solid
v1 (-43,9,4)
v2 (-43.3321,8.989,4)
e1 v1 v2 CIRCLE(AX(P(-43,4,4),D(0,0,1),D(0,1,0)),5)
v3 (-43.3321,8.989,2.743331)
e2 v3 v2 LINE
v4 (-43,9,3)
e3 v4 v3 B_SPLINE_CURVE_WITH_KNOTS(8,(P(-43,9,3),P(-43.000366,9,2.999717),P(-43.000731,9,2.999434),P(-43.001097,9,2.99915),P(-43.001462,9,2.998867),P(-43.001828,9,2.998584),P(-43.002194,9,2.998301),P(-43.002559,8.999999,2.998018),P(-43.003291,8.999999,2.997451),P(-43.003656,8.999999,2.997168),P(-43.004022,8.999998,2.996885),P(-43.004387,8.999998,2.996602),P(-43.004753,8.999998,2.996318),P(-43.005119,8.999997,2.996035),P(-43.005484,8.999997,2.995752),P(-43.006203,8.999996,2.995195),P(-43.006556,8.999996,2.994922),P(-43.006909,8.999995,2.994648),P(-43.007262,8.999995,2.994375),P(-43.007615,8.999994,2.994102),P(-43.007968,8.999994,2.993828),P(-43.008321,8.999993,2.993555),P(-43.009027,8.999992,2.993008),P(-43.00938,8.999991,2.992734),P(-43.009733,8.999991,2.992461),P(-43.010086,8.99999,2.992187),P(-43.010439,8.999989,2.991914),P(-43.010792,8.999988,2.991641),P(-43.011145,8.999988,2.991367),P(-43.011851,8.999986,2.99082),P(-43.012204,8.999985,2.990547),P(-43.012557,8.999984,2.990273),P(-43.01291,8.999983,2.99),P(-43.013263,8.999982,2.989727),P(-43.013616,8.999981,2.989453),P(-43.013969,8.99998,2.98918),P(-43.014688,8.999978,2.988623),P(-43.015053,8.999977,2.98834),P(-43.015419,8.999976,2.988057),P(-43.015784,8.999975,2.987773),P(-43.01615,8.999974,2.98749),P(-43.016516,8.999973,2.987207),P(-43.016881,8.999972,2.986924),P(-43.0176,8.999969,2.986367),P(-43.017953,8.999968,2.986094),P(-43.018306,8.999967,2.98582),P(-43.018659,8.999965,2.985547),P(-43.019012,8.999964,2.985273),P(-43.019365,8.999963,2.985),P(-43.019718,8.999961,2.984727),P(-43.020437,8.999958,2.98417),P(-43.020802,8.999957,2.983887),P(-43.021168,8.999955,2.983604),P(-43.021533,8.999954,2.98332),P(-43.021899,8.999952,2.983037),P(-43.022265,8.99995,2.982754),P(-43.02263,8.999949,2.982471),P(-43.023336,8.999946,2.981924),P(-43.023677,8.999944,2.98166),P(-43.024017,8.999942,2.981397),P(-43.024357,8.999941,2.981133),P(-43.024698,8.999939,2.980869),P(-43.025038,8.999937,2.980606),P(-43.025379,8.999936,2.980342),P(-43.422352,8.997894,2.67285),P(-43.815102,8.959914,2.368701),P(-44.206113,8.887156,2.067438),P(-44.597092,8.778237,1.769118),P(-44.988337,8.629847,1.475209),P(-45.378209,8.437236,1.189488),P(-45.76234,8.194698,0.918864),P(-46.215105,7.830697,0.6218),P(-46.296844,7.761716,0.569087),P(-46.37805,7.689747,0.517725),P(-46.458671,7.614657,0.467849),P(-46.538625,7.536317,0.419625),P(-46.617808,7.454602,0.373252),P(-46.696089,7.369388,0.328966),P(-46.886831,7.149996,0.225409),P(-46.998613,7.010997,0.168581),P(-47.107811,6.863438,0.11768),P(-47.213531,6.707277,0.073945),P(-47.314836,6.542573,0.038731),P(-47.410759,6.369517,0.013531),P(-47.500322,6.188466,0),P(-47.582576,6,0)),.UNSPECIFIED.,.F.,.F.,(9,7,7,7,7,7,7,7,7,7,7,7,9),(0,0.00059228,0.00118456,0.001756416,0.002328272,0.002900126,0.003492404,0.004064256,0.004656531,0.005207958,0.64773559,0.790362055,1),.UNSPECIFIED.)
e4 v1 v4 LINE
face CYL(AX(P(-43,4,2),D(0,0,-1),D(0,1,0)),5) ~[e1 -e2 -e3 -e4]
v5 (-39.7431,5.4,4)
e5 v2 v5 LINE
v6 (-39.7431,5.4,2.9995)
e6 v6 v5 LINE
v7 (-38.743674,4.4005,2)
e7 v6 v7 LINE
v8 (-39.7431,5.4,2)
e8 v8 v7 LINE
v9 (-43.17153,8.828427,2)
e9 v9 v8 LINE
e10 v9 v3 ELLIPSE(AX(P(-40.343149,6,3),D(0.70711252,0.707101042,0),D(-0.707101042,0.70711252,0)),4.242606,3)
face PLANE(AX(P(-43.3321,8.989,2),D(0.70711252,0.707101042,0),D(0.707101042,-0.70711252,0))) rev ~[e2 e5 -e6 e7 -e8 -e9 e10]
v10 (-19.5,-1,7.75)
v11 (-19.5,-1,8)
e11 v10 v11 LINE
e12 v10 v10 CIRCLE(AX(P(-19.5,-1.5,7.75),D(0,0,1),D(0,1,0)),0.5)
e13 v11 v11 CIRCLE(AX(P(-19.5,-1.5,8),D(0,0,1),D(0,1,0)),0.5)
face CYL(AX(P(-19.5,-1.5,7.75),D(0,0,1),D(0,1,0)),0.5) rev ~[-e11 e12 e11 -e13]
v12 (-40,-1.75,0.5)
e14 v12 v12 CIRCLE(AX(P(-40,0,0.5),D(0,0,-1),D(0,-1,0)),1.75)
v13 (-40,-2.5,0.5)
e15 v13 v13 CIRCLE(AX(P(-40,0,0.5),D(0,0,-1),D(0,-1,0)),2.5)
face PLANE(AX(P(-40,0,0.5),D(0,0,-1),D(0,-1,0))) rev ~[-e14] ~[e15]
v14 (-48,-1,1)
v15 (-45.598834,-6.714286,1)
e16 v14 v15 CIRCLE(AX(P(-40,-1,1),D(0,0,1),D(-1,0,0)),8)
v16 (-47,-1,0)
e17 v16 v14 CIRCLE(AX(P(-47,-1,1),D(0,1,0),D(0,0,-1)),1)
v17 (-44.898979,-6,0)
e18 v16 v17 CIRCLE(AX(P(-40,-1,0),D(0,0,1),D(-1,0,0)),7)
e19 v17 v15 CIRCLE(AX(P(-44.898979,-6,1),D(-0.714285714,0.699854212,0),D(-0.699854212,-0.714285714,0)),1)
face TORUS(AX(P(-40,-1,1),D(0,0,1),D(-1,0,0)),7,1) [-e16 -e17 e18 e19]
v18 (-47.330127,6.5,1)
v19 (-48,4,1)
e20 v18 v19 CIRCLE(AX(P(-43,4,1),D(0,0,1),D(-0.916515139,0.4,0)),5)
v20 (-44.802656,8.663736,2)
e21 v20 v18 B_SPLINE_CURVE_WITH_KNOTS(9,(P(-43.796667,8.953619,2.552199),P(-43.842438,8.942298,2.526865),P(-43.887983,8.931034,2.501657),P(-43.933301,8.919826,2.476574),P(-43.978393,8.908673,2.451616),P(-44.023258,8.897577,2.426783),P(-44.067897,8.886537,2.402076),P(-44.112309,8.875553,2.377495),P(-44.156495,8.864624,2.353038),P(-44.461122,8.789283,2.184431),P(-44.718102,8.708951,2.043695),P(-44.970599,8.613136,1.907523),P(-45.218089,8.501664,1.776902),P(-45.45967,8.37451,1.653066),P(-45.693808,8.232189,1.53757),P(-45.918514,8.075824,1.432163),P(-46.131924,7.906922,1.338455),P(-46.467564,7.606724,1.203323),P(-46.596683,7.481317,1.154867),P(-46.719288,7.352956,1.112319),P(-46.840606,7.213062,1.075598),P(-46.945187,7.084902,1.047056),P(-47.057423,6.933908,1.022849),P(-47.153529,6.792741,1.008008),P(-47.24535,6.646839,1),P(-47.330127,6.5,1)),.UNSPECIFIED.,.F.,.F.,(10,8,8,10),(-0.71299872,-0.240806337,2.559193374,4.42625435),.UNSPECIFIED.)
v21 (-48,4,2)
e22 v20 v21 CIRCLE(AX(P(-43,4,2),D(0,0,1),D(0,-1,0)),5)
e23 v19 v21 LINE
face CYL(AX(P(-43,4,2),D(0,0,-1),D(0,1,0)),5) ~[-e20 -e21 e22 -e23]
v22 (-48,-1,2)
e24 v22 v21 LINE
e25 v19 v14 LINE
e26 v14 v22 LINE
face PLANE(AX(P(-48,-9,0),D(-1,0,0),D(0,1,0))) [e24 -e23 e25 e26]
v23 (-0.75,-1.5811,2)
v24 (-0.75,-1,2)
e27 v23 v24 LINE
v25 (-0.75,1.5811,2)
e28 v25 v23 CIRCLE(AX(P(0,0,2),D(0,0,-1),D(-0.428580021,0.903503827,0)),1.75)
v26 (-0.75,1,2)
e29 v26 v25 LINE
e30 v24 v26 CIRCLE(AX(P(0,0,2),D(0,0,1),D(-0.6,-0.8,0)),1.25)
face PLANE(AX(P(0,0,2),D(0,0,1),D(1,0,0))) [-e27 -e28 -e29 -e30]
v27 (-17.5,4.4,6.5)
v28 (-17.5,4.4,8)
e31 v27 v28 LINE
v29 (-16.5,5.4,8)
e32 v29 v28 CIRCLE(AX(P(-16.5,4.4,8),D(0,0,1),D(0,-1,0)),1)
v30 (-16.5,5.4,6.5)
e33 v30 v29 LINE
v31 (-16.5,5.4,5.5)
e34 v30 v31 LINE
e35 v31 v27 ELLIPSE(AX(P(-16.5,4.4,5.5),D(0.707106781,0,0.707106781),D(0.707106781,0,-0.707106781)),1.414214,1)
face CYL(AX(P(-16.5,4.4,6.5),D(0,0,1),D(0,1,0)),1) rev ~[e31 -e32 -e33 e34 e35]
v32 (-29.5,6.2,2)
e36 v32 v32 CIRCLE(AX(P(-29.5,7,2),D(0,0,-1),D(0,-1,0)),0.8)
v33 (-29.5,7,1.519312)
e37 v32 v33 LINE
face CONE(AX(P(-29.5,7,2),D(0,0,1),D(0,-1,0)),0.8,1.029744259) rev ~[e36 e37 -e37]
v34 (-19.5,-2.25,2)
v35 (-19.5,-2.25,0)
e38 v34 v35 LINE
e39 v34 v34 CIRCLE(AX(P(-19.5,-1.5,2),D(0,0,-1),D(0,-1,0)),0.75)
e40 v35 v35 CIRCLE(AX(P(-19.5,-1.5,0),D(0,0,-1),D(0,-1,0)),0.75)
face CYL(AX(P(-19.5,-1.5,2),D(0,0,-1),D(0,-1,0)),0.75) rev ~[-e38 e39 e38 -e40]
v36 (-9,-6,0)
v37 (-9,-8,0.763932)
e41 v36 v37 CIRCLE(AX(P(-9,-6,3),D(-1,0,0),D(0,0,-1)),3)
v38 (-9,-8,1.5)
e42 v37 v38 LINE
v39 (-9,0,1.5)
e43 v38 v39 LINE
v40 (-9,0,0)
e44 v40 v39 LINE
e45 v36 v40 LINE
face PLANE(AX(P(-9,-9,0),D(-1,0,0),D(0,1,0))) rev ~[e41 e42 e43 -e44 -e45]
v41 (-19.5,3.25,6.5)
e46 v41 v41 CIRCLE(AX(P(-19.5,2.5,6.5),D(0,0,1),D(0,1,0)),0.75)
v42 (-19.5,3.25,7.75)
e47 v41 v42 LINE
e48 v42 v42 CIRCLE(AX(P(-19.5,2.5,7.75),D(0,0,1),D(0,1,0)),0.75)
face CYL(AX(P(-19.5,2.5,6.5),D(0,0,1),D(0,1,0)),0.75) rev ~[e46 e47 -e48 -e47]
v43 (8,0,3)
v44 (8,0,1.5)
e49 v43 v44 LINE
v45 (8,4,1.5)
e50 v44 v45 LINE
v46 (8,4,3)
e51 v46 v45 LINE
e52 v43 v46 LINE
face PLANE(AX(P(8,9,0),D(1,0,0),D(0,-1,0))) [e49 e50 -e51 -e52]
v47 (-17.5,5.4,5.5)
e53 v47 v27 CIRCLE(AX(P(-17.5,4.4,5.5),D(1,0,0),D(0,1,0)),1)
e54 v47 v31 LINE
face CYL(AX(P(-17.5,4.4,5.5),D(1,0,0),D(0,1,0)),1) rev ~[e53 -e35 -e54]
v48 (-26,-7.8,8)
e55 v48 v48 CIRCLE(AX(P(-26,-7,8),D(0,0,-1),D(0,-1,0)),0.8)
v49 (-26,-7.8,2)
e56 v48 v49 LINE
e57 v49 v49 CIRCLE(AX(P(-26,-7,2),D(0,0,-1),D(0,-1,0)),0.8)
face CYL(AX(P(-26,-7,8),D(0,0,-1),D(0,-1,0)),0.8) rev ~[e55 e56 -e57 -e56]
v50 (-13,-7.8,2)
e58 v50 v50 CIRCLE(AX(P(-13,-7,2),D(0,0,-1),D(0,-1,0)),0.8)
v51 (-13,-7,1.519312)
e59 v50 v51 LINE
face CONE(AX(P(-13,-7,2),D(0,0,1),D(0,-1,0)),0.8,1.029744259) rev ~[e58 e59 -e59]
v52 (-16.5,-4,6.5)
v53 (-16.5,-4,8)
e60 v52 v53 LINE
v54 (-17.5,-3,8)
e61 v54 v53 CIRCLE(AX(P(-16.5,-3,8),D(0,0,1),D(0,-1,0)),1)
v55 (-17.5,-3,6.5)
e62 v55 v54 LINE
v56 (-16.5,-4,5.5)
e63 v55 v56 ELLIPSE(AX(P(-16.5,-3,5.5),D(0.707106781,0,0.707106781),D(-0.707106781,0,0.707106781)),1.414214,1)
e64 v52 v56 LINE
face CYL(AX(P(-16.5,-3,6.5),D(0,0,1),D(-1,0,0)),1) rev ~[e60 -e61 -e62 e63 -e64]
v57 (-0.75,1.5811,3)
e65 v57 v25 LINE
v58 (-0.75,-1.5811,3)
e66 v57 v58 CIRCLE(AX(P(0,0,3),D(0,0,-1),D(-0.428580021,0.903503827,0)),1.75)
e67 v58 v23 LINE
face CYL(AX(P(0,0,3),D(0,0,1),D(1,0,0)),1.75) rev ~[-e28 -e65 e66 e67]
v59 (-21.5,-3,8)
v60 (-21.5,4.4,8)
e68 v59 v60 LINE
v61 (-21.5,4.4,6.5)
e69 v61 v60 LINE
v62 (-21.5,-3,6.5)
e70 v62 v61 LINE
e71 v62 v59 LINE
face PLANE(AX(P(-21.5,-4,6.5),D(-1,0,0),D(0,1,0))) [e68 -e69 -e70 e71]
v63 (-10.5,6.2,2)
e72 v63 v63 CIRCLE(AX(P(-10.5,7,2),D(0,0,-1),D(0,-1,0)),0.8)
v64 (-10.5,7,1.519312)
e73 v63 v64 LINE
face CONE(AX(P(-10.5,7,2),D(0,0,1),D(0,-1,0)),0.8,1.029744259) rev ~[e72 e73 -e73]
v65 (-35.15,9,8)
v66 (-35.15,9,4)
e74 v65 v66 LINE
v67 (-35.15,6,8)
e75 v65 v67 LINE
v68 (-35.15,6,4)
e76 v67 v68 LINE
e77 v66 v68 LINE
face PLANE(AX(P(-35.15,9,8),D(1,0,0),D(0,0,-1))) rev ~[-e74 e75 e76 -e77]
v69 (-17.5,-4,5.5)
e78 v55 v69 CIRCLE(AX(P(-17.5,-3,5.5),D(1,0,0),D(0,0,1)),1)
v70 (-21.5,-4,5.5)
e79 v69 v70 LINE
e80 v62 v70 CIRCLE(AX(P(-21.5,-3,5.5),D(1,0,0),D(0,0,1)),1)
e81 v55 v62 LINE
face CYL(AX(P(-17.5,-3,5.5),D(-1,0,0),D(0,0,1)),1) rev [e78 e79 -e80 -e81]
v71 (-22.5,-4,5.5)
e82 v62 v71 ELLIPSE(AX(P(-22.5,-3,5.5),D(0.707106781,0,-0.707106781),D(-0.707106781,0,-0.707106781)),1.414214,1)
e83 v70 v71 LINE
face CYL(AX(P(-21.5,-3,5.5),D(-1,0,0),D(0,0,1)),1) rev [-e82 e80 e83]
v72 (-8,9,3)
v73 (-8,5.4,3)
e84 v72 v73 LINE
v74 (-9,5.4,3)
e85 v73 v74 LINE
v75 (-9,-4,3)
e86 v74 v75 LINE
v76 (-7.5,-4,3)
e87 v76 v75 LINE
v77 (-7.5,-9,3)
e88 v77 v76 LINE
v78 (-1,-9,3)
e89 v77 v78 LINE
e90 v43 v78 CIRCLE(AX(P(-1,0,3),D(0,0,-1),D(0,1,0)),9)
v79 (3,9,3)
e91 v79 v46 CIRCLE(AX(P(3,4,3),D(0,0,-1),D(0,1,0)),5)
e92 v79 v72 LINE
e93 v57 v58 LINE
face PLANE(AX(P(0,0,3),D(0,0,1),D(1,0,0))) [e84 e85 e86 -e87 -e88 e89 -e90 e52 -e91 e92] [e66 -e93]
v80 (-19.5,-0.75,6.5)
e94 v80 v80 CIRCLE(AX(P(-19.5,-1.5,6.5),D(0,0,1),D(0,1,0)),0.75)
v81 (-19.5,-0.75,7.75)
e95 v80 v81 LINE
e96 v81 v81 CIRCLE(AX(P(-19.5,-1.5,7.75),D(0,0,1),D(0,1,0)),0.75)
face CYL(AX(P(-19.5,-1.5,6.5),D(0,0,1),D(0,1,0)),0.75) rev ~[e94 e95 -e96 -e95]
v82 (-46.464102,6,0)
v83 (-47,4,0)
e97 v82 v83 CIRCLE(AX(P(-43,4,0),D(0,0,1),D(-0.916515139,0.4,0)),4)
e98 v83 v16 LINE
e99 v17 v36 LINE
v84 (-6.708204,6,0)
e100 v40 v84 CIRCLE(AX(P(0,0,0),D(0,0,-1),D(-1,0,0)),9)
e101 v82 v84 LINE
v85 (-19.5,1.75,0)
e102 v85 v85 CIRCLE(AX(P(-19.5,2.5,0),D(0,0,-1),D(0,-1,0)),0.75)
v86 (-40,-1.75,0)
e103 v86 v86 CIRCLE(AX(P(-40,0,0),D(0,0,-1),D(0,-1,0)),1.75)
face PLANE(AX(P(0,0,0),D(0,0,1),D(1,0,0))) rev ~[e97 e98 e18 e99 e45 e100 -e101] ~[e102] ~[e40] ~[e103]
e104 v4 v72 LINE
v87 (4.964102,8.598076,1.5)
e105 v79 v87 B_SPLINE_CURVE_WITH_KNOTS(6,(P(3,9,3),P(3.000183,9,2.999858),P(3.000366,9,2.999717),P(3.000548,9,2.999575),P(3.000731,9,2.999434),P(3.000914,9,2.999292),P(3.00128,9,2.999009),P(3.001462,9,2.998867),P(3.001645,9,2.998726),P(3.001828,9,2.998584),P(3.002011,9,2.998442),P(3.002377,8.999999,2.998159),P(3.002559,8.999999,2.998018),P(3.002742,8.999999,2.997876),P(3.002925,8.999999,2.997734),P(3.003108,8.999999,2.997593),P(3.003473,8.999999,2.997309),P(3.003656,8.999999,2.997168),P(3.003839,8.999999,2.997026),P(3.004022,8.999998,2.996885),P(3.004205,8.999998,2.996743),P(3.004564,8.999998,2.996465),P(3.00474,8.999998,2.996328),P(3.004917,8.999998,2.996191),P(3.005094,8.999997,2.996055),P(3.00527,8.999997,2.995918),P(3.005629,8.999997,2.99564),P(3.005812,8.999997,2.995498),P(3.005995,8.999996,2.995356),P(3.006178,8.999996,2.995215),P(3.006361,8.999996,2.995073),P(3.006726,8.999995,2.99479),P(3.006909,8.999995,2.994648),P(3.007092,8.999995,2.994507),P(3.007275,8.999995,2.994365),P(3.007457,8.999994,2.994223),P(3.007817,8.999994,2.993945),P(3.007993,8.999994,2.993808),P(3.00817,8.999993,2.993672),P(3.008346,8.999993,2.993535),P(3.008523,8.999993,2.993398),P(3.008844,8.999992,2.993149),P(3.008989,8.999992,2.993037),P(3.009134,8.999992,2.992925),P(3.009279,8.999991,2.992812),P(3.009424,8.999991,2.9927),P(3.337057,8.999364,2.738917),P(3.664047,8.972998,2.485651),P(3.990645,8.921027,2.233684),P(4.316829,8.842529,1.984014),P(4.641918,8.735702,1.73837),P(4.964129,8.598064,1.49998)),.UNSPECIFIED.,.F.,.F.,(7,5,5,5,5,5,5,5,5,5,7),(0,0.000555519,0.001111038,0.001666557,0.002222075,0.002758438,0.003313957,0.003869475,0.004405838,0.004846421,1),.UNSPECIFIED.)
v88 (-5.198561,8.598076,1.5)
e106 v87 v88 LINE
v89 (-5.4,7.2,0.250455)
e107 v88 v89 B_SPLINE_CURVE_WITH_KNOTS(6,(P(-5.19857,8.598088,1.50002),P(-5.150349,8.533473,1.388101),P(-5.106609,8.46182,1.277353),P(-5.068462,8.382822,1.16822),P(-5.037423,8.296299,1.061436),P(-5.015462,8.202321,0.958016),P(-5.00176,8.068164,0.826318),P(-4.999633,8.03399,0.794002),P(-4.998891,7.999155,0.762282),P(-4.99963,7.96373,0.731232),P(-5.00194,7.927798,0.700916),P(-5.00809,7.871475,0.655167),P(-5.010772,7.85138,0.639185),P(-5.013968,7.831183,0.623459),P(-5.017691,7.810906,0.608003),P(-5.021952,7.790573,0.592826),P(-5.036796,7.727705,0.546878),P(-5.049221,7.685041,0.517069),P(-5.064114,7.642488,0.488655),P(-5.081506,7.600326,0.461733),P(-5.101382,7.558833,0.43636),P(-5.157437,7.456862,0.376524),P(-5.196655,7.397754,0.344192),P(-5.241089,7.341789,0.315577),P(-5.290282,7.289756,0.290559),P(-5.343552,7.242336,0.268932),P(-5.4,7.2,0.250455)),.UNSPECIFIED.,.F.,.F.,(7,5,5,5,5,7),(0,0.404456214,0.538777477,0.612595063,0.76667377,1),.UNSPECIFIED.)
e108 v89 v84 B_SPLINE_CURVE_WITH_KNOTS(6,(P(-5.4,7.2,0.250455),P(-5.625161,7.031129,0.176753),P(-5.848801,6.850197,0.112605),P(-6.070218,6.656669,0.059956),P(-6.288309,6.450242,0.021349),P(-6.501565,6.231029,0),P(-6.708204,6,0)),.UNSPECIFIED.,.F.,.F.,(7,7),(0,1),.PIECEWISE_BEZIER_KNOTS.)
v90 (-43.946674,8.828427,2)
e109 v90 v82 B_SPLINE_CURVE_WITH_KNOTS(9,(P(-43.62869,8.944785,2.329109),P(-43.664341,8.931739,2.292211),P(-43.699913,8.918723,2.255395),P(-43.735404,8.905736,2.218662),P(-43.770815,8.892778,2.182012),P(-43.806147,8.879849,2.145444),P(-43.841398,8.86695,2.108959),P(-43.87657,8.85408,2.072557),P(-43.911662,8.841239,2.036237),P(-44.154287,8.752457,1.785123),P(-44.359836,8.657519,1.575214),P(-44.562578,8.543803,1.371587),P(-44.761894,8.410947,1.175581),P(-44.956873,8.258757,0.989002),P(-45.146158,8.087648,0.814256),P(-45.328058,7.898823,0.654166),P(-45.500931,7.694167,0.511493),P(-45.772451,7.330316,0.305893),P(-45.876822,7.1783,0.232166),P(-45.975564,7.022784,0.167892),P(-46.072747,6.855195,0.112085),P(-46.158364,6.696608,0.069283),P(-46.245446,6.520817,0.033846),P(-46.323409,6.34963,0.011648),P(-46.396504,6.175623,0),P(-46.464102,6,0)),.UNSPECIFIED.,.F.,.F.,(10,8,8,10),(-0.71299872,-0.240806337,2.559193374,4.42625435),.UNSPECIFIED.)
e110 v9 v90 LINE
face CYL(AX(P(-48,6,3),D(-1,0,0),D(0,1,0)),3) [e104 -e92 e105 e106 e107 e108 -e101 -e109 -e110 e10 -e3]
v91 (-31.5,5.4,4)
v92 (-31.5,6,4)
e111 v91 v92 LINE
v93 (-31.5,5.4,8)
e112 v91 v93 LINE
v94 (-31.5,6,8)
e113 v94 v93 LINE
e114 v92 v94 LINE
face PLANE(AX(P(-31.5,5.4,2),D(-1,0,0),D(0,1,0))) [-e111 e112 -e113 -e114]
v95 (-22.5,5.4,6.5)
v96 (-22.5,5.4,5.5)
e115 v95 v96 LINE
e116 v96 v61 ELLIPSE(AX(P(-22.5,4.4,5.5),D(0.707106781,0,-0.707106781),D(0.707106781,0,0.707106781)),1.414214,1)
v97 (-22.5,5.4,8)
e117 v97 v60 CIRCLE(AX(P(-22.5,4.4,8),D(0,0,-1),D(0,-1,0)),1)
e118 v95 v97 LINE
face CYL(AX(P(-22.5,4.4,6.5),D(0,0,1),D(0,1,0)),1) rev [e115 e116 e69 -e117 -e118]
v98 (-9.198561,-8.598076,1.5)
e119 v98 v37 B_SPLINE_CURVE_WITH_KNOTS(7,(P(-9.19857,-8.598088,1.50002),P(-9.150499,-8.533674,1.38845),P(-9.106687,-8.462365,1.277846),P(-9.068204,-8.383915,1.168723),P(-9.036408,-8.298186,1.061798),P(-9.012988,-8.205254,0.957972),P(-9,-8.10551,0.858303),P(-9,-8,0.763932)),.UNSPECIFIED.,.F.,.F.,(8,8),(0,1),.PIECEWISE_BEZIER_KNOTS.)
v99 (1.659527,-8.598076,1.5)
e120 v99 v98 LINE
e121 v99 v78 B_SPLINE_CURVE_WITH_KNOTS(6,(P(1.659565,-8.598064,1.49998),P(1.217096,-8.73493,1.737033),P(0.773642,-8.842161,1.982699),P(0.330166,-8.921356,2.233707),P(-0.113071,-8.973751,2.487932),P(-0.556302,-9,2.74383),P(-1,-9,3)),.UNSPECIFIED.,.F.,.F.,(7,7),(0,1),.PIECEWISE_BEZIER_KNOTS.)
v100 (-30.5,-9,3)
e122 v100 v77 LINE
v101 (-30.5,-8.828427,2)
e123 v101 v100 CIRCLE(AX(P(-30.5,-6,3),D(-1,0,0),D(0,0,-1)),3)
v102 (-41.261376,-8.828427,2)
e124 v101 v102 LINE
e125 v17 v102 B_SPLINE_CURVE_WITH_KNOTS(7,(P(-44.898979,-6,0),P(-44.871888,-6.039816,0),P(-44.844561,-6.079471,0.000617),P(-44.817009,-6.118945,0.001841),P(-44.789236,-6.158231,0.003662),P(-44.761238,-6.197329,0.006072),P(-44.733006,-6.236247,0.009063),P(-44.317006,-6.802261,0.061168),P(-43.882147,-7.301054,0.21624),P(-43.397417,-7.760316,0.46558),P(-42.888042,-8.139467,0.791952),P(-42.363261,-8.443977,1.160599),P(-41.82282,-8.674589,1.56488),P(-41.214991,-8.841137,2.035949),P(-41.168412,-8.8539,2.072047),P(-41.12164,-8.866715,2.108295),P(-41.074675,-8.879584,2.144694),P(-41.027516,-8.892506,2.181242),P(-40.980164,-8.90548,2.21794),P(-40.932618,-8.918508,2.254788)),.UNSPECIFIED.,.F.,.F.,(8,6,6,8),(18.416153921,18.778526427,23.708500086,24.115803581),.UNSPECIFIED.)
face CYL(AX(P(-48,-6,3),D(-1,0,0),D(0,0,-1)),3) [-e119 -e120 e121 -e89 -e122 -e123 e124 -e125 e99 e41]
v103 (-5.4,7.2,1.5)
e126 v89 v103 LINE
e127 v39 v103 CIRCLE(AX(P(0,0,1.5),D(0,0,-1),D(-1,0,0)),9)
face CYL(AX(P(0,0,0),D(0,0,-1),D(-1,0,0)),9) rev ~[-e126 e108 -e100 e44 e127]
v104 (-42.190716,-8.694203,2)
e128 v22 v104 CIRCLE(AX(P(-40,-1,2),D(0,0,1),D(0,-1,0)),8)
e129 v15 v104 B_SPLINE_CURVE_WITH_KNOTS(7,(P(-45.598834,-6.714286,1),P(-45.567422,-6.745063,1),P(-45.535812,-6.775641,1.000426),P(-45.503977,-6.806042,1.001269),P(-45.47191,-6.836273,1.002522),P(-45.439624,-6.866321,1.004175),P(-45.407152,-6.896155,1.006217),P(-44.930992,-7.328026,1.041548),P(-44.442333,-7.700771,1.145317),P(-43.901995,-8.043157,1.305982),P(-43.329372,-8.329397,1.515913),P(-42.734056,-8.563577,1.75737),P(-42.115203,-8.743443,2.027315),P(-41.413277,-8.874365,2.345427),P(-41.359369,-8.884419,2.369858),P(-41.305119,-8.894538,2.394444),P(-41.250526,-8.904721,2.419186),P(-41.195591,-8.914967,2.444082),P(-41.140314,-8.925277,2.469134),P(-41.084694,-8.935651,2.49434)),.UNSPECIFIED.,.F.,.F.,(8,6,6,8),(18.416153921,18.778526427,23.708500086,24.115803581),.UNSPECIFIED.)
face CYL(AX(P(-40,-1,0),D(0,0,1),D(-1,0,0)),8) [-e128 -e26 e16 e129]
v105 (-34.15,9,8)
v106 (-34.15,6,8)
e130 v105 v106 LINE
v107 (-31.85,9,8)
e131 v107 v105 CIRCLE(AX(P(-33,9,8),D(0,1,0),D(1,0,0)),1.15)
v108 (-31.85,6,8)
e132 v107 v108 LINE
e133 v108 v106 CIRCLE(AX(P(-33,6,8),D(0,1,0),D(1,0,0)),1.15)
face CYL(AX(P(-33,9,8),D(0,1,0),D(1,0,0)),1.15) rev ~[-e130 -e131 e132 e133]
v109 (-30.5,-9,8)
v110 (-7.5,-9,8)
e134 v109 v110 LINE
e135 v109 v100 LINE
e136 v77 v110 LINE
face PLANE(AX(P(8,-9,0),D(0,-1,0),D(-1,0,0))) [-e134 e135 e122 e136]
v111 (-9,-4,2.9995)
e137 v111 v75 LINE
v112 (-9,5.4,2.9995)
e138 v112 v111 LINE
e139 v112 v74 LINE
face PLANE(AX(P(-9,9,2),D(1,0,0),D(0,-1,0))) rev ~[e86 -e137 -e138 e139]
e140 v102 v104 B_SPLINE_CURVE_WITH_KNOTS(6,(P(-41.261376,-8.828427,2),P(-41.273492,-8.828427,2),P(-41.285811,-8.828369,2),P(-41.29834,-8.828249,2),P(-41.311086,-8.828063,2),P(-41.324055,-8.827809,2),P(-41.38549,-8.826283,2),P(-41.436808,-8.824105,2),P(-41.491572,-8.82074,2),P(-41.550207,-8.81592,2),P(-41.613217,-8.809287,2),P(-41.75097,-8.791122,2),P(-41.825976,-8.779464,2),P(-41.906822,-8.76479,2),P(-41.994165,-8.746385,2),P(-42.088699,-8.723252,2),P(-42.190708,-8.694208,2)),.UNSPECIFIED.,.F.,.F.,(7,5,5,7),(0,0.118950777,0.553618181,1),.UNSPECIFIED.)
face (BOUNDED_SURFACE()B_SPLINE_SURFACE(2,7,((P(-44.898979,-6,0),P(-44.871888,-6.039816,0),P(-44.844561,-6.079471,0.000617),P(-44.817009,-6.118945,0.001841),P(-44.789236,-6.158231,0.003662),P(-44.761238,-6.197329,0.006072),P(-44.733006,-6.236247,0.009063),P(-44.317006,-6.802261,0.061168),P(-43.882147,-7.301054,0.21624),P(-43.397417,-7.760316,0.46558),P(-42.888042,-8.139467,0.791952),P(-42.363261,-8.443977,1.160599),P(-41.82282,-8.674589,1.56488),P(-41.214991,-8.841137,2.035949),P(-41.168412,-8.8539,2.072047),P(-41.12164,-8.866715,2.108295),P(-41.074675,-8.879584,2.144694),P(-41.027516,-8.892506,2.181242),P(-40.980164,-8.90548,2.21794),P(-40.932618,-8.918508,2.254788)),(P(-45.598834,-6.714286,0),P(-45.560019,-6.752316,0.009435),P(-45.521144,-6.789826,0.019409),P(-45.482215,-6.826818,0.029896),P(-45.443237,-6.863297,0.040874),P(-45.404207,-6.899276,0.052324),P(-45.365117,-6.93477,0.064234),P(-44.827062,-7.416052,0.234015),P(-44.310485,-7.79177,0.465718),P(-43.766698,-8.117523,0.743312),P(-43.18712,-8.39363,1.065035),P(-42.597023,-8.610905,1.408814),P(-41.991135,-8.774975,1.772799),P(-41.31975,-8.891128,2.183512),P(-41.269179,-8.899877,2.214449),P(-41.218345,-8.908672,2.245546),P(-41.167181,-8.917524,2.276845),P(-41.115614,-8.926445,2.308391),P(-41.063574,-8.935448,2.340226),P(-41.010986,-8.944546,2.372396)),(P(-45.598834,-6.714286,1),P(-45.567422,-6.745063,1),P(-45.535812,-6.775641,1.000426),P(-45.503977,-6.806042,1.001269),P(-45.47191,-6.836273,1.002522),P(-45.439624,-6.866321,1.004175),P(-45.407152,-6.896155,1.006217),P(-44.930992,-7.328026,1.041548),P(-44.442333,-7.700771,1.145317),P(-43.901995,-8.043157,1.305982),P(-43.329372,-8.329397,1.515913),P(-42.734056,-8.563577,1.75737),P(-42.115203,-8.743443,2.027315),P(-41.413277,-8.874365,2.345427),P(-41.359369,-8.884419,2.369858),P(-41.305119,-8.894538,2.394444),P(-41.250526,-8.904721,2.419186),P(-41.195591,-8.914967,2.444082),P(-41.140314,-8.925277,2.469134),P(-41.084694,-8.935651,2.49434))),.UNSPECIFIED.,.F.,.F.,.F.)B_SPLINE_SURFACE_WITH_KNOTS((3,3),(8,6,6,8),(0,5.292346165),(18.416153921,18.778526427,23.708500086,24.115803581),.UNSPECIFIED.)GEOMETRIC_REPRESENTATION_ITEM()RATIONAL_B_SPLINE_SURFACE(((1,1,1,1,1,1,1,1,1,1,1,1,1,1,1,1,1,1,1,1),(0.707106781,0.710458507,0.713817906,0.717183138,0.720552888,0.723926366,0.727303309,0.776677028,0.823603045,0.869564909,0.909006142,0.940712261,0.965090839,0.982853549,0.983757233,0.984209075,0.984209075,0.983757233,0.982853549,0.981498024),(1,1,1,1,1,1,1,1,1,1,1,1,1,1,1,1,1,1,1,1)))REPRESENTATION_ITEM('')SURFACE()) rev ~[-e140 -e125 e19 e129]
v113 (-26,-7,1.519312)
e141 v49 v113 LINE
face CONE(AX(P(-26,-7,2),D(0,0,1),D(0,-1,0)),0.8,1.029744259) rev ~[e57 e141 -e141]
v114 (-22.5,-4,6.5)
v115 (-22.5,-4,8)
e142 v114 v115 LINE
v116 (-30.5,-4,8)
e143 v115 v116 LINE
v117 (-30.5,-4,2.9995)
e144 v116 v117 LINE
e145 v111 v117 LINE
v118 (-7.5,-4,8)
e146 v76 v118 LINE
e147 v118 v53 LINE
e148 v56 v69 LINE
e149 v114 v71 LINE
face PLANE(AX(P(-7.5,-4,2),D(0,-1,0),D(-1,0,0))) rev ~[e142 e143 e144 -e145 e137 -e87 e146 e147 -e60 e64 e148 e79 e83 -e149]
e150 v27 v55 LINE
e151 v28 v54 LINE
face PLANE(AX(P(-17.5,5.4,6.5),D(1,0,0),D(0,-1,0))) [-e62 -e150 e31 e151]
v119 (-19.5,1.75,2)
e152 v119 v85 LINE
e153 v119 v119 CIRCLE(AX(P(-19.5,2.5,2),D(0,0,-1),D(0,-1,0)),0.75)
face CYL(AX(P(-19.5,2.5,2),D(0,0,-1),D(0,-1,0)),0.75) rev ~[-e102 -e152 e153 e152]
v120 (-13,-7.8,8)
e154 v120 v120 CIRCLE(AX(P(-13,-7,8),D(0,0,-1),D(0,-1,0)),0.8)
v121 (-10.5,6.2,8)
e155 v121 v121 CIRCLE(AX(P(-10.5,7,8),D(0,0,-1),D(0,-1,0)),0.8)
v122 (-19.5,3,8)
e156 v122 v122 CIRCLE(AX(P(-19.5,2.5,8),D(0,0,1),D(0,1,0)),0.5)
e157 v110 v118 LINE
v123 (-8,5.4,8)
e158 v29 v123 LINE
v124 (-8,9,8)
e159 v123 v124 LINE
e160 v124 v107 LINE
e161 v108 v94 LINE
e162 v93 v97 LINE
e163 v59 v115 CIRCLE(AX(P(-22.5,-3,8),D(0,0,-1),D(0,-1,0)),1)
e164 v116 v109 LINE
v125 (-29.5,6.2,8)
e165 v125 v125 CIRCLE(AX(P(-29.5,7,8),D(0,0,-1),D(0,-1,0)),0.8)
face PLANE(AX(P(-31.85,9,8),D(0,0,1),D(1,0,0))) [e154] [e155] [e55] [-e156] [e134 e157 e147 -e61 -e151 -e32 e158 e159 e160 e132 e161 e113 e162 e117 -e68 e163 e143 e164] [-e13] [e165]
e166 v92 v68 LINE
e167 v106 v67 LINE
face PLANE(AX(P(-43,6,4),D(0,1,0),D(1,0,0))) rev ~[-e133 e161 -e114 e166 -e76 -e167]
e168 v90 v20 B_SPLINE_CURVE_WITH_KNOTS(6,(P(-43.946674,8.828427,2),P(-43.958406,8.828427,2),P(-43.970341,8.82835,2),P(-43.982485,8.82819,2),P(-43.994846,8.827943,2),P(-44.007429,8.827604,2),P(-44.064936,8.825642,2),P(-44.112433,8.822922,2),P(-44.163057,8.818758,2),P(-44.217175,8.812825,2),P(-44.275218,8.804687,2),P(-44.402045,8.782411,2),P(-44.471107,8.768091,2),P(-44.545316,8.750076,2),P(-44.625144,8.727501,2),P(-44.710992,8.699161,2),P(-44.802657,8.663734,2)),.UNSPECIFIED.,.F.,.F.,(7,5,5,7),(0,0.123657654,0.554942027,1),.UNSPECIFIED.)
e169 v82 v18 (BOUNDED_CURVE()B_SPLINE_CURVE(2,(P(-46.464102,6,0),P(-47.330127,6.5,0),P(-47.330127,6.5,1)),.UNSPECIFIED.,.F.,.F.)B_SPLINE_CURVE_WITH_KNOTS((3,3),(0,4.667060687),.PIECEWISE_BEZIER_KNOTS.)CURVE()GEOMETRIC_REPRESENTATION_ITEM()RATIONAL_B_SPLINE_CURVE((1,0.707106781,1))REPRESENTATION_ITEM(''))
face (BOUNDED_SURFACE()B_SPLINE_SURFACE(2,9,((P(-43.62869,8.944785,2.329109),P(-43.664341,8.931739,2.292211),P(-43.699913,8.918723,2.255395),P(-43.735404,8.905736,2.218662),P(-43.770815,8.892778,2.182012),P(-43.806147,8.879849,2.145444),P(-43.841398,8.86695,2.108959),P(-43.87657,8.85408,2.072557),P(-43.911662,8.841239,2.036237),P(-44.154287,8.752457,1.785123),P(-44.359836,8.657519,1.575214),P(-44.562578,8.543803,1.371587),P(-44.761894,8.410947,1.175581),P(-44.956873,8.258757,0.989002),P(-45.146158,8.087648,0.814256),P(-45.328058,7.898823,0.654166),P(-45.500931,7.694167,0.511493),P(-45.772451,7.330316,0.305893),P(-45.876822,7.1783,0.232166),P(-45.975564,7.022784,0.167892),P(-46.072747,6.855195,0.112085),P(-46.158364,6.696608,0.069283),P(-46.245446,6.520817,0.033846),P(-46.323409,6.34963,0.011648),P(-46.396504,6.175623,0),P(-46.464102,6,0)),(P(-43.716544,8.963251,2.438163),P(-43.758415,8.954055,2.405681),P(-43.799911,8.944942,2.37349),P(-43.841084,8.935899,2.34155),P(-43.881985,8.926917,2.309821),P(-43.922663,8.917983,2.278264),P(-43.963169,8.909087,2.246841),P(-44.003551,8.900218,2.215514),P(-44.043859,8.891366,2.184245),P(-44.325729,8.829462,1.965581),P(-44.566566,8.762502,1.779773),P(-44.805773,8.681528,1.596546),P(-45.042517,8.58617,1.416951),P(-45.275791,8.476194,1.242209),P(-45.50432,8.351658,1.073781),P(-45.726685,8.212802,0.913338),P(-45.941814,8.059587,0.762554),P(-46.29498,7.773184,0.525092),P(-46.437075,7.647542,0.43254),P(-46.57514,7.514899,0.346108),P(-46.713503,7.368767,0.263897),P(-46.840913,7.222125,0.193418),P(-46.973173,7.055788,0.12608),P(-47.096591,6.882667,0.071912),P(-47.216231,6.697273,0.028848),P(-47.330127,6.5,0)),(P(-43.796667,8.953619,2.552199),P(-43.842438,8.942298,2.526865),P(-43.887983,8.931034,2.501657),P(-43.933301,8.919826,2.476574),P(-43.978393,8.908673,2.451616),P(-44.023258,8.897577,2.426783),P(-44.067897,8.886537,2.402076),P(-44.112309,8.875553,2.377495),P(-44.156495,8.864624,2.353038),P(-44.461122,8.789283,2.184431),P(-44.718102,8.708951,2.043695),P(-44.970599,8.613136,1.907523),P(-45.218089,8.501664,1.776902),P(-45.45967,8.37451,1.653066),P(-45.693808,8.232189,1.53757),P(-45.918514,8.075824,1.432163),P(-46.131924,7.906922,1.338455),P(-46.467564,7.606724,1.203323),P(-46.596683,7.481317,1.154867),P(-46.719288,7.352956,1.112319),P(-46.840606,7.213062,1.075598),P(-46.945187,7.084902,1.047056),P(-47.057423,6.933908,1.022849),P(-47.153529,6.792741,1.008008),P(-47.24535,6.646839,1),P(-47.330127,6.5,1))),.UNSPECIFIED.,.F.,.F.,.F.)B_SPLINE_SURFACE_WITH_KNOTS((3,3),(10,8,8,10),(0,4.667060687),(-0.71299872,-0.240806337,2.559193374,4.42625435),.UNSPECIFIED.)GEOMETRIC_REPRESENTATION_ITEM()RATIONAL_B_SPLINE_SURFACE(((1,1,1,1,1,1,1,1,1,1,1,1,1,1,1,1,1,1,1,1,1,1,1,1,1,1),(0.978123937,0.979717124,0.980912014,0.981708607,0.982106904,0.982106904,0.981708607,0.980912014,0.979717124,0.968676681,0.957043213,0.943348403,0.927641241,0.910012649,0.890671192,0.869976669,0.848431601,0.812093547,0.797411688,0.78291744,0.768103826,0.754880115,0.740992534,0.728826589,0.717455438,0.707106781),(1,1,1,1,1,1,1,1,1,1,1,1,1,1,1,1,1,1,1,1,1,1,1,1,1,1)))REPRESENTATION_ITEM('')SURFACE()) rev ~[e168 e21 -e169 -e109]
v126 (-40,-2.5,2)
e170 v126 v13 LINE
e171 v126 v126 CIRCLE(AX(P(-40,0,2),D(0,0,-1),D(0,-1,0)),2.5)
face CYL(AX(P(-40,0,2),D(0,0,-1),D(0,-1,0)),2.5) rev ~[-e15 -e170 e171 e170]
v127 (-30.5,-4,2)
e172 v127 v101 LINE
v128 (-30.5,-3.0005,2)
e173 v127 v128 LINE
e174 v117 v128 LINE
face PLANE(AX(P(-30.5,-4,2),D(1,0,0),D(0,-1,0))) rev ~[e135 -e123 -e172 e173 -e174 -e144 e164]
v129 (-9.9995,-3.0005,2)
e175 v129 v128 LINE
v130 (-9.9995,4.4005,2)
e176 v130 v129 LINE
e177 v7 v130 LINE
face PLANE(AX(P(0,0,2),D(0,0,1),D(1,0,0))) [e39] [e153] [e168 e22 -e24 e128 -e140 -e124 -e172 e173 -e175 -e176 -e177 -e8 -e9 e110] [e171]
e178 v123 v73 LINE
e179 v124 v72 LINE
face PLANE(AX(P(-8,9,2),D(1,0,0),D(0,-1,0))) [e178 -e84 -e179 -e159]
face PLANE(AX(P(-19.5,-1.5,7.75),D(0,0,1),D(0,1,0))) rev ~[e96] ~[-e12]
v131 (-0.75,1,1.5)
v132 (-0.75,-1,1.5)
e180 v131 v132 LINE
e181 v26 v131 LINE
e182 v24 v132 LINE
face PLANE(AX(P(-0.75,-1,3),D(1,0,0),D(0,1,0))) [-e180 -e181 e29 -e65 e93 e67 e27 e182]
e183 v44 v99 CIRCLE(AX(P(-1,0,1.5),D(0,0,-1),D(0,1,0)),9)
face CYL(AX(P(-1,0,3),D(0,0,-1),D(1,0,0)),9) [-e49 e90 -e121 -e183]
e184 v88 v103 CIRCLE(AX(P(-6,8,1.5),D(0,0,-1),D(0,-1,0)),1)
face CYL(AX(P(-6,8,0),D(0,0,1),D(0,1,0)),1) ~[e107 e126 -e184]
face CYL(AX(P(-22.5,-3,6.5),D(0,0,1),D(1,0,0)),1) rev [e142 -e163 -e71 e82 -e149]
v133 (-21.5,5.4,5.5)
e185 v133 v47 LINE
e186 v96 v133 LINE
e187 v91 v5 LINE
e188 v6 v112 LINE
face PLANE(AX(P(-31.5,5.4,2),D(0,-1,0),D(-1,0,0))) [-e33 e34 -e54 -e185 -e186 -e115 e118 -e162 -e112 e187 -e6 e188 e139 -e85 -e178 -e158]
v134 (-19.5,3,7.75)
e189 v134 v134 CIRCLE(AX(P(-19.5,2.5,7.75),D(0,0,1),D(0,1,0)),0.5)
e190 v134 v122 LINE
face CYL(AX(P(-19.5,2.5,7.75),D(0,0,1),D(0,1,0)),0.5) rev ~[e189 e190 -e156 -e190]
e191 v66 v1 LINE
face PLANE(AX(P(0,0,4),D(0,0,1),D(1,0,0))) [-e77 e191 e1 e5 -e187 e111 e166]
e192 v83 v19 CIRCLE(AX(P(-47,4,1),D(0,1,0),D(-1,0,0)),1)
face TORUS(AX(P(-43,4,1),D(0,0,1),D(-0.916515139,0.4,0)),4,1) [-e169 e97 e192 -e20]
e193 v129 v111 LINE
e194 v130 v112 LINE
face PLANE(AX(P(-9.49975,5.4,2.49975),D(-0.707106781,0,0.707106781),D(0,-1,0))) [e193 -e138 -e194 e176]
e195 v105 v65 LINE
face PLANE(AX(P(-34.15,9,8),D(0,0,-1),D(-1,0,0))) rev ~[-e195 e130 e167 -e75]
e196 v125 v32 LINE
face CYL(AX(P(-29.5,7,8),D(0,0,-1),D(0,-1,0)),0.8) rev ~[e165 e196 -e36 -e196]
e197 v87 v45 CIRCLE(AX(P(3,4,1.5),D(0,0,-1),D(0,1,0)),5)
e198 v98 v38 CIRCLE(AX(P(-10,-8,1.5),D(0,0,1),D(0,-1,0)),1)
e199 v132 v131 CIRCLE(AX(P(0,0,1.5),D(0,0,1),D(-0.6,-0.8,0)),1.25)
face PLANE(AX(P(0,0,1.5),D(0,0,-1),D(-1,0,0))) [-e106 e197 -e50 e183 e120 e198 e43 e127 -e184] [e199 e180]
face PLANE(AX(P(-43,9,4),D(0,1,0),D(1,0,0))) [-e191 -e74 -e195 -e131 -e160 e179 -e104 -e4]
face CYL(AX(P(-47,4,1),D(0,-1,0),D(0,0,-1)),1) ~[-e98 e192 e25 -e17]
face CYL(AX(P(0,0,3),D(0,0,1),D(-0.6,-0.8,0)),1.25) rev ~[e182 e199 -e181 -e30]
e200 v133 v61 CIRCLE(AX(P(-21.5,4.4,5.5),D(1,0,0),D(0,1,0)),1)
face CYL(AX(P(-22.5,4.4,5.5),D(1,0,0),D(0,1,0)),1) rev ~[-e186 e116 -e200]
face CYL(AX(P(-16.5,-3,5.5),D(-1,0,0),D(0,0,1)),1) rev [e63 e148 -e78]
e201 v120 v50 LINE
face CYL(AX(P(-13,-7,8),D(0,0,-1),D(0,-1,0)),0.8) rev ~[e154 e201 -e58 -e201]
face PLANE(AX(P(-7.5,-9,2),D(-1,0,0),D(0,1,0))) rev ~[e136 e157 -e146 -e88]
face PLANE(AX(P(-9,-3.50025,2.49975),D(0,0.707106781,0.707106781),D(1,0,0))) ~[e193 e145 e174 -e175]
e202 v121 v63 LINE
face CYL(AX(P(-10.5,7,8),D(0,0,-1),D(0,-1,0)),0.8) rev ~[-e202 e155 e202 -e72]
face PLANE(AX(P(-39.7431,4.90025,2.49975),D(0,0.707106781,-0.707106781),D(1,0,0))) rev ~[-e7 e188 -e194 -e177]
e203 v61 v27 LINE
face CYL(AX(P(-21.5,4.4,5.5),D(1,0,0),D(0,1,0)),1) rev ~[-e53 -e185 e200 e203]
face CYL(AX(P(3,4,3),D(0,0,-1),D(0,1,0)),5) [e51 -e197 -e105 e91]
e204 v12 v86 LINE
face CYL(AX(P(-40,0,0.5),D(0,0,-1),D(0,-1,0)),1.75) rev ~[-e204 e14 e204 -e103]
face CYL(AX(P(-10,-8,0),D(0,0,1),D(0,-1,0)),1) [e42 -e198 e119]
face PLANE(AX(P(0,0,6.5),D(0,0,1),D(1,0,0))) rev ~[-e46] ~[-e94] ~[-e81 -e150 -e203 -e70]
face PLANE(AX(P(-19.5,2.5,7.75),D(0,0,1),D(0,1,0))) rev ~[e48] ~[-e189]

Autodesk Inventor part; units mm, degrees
ref_plane "YZ Plane" through (0, 0, 0) normal (1, 0, 0) x (0, 1, 0)
ref_plane "XZ Plane" through (0, 0, 0) normal (0, 1, 0) x (-1, 0, 0)
ref_plane "XY Plane" through (0, 0, 0) normal (0, 0, 1) x (1, 0, 0)
sketch "axes" plane through (0, 0, 0) normal (0, 0, 1) x (1, 0, 0)
  point P0 (0, 0)
  point P1 (-40, 0)
  point P2 (0, 0)
  dimension "d0" = 40
sketch "tendon anchors" plane through (0, 0, 0) normal (0, 0, 1) x (1, 0, 0)
  line L0 (-8.2564, 0) -> (0, 0) construction
  line L1 (0, 0) -> (-7.5, -7.5) construction
  line L2 (-32.0254, 0) -> (-40, 0) construction
  line L3 (-40, 0) -> (-30.5, -5.5) construction
  dimension "d136" = 7.5
  dimension "d137" = 7.5
  dimension "d138" = 5.5
  dimension "d139" = 9.5
sketch "Sketch3" plane through (0, 0, 0) normal (0, 0, 1) x (1, 0, 0)
  line L0 (-48, 9) -> (8, 9)
  line L1 (8, 9) -> (8, -9)
  line L2 (8, -9) -> (-48, -9)
  line L3 (-48, -9) -> (-48, 9)
  point P0 (0, 0)
  point P1 (8, 0)
  point P2 (-40, 0)
  dimension "d1" = 18
  dimension "d2" = 8
  dimension "d3" = 8
extrude "base plate" add sketch "Sketch3" along normal blind 2
sketch "Sketch4" plane through (0, 0, 2) normal (0, 0, 1) x (1, 0, 0)
  line L0 (8, 9) -> (-48, 9) projected
  line L1 (-48, 9) -> (-48, -9) projected
  line L2 (-48, -9) -> (8, -9) projected
  line L3 (8, -9) -> (8, 9) projected
  line L4 (-31.5, 9) -> (-8, 9)
  line L5 (-8, 9) -> (-8, 5.4)
  line L6 (-8, 5.4) -> (-31.5, 5.4)
  line L7 (-31.5, 5.4) -> (-31.5, 9)
  line L8 (-30.5, -9) -> (-7.5, -9)
  line L9 (-7.5, -9) -> (-7.5, -4)
  line L10 (-7.5, -4) -> (-30.5, -4)
  line L11 (-30.5, -4) -> (-30.5, -9)
  point P0 (0, 0)
  point P1 (-30.5, -5.5)
  point P2 (-7.5, -7.5)
  dimension "d6" = 5
  dimension "d7" = 3.6
  dimension "d8" = 16.5
  dimension "d9" = 16
extrude "walls" add sketch "Sketch4" along normal blind 4.5 contours L5 L6 L7 L0 | L2 L11 L10 L9
sketch "Sketch5" plane through (0, 0, 2) normal (0, 0, 1) x (1, 0, 0)
  point P0 (0, 0)
  point P1 (-40, 0)
  point P2 (0, 0)
hole "joint bearings" at (-40, 0, 2) direction (0, 0, -1) diameter 3.5 end through all counterbore diameter 5 counterbore depth 1.5
fillet "front top" radius 5 1 edges at (-48, 9, 1)
fillet "front bottom" radius 8 1 edges at (-48, -9, 1)
sketch "Sketch7" plane through (0, 0, 2) normal (0, 0, 1) x (1, 0, 0)
  circle A0 centre (-40, 0) radius 4
  line L0 (-31.5, 9) -> (-43, 9) projected
  arc A1 (-43, 9) -> (-48, 4) centre (-43, 4) ccw projected
  line L1 (-31.5, 5.4) -> (-31.5, 9) projected
  line L2 (-43.3321, 8.989) -> (-37.1716, 2.8284)
  line L3 (-40, 0) -> (-52.831, 0) construction
  line L4 (-31.5, 5.4) -> (-39.7431, 5.4)
  point P0 (0, 0)
  dimension "d33" = 8
  dimension "d34" = 45
extrude "extension endstop" add sketch "Sketch7" along normal blind 2 contours L2 A1 L0 L1 L4
sketch "Sketch8" plane through (0, 0, 2) normal (0, 0, 1) x (1, 0, 0)
  point P0 (0, 0)
  point P1 (-40, 0)
  point P2 (-19.5, 2.5)
  point P3 (-19.5, 2.5)
  point P4 (-19.5, -1.5)
  dimension "d41" = 20.5
  dimension "d73" = 2.5
  dimension "d127" = 1.5
hole "spring pin" at (-19.5, 2.5, 2) at (-19.5, -1.5, 2) direction (0, 0, -1) diameter 1.5 end through all
sketch "Sketch10" plane through (0, 0, 2) normal (0, 0, 1) x (1, 0, 0)
  line L0 (-9, -9) -> (8, -9)
  line L1 (8, -9) -> (8, 9)
  line L2 (8, 9) -> (-9, 9)
  line L3 (-9, 9) -> (-9, -9)
  point P0 (0, 0)
  point P1 (-8, 9)
  dimension "d126" = 17
extrude "Extrusion4" add sketch "Sketch10" along normal blind 1
sketch "Sketch11" plane through (0, 0, 0) normal (0, 0, -1) x (-1, 0, 0)
  circle A0 centre (0, 0) radius 9
  line L0 (0, 9) -> (-9, 9)
  line L1 (-9, 9) -> (-9, -9)
  line L2 (-9, -9) -> (9, -9)
  line L3 (9, -9) -> (9, 0)
  dimension "d57" = 18
extrude "Extrusion5" cut sketch "Sketch11" against normal blind 1.5
fillet "Fillet5" radius 1 2 edges at (0, 9, 0.75) (-9, -9, 0.75)
fillet "Fillet6" radius 5 1 edges at (8, 9, 2.25)
fillet "Fillet7" radius 9 1 edges at (8, -9, 2.25)
sketch "Sketch12" plane through (0, 0, 3) normal (0, 0, 1) x (1, 0, 0)
  circle A0 centre (0, 0) radius 1.75
  line L0 (-0.75, -1.5811) -> (-0.75, 1.5811)
  dimension "d63" = 3.5
  dimension "d140" = 0.75
extrude "Extrusion6" cut sketch "Sketch12" against normal blind 1 contours A0 L0 picked at (0.0833, 0)
sketch "Sketch18" plane through (0, 0, 6.5) normal (0, 0, 1) x (1, 0, 0)
  line L0 (-31.5, 9) -> (-31.5, 5.4) projected
  line L1 (-31.5, 5.4) -> (-8, 5.4) projected
  line L2 (-8, 5.4) -> (-8, 9) projected
  line L3 (-8, 9) -> (-31.5, 9) projected
  line L4 (-30.5, -9) -> (-7.5, -9) projected
  line L5 (-7.5, -9) -> (-7.5, -4) projected
  line L6 (-7.5, -4) -> (-30.5, -4) projected
  line L7 (-30.5, -4) -> (-30.5, -9) projected
  circle A0 centre (-19.5, 2.5) radius 0.75 projected
  line L8 (-21.5, 5.4) -> (-17.5, 5.4)
  line L9 (-17.5, 5.4) -> (-17.5, -4)
  line L10 (-17.5, -4) -> (-21.5, -4)
  line L11 (-21.5, -4) -> (-21.5, 5.4)
  line L12 (-19.5, 2.5) -> (-19.5, -2.026) construction
  point P0 (0, 0)
  dimension "d105" = 4
extrude "Extrusion8" add sketch "Sketch18" along normal blind 1.5 contours L3 L2 L1 L0 | L1 L9 L6 L11 | L6 L5 L4 L7 | A0
sketch "Sketch19" plane through (0, 0, 6.5) normal (0, 0, -1) x (-1, 0, 0)
  circle A0 centre (19.5, 2.5) radius 0.75 projected
  circle A1 centre (19.5, -1.5) radius 0.75 projected
  point P0 (0, 0)
hole "spring pins support" at (-19.5, 2.5, 6.5) at (-19.5, -1.5, 6.5) direction (0, 0, 1) diameter 1 end through all counterbore diameter 1.5 counterbore depth 1.25
sketch "Sketch14" plane through (0, 0, 3) normal (0, 0, 1) x (1, 0, 0)
  line L0 (-0.75, -1.5811) -> (-0.75, 1.5811) projected
  arc A0 (-0.75, -1) -> (-0.75, 1) centre (0, 0) ccw
  dimension "d133" = 2.5
extrude "Extrusion11" cut sketch "Sketch14" against normal through all
sketch "Sketch17" plane through (0, 0, 8) normal (0, 0, 1) x (1, 0, 0)
  point P0 (0, 0)
  point P1 (-26, -7)
  point P2 (-13, -7)
  point P3 (-29.5, 7)
  point P4 (-10.5, 7)
  point P5 (-40, 0)
  point P6 (0, 0)
  point P7 (-40, 0)
  point P8 (0, 0)
  dimension "d92" = 7
  dimension "d93" = 7
  dimension "d94" = 10.5
  dimension "d95" = 10.5
  dimension "d96" = 14
  dimension "d97" = 13
hole "mounting" at (-29.5, 7, 8) at (-10.5, 7, 8) at (-26, -7, 8) at (-13, -7, 8) direction (0, 0, -1) diameter 1.6 depth 6 tip angle 118
sketch "Sketch20" plane through (-48, 4, 0) normal (-1, 0, 0) x (0, 0, 1)
  line L0 (3, 5) -> (20, 5)
  line L1 (20, 5) -> (20, -13)
  line L2 (20, -13) -> (3, -13)
  line L3 (0, -10) -> (0, 2)
  arc A0 (3, 5) -> (0, 2) centre (3, 2) ccw
  arc A1 (0, -10) -> (3, -13) centre (3, -10) ccw
  point P0 (0, -4)
  point P1 (0, 5)
  point P2 (0, -13)
  point P3 (0, -13)
  dimension "d115" = 20
  dimension "d116" = 3
extrude "side fillet" cut sketch "Sketch20" against normal through all keep common part
fillet "Fillet8" radius 1 5 edges at (-44.0048, -7.9255, 0.6994) (-48, 1.5, 0) (-47.8945, 5.0215, 0) (-46.0631, 7.9519, 0.7218) (-47.5485, -3.6495, 0)
sketch "Sketch21" plane through (-43, 9, 4) normal (0, 1, 0) x (1, 0, 0)
  line L0 (11.5, 0) -> (0, 0) projected
  line L1 (11.5, 0) -> (11.5, -4) projected
  line L2 (10, -4) -> (10, -4) construction
  line L3 (11.15, -4) -> (11.15, -4)
  line L4 (8.85, -4) -> (8.85, -4)
  arc A0 (8.85, -4) -> (11.15, -4) centre (10, -4) ccw
  arc A1 (11.15, -4) -> (8.85, -4) centre (10, -4) ccw
  line L5 (8.85, -4) -> (7.85, -4)
  line L6 (7.85, -4) -> (7.85, 0)
  line L7 (11.15, -4) -> (11.5, -4)
  point P0 (43, 4)
  point P1 (10, -3.75)
  point P2 (3, 4)
  dimension "d120" = 2.3
  dimension "d121" = 7
  dimension "d122" = 0
  dimension "d123" = 1
extrude "cable clip" add sketch "Sketch21" against normal blind 3 contours L1 L7 A1 L5 L6 L0
chamfer "Chamfer1" distance 1 angle 45 3 edges at (-9, 0.7, 2) (-24.3716, 5.4, 2) (-19.75, -4, 2)
fillet "Fillet9" radius 1 4 edges at (-21.5, 5.4, 7.25) (-17.5, 5.4, 7.25) (-17.5, -4, 7.25) (-21.5, -4, 7.25)
fillet "Fillet10" radius 1 4 edges at (-22, -4, 6.5) (-17, -4, 6.5) (-17, 5.4, 6.5) (-22, 5.4, 6.5)
equation "\"d0\" = MCP_PIP_length"
equation "\"d41\" = PIP_spring_length"
equation "\"MCP_PIP_length\" = F4_MCP_PIP_length"
equation "\"PIP_spring_length\" = F4_PIP_spring_length"
equation "\"F4_MCP_PIP_length\" = 40"
equation "\"F4_PIP_spring_length\" = 20.5"
properties part number "phalanx 1 R F4"
